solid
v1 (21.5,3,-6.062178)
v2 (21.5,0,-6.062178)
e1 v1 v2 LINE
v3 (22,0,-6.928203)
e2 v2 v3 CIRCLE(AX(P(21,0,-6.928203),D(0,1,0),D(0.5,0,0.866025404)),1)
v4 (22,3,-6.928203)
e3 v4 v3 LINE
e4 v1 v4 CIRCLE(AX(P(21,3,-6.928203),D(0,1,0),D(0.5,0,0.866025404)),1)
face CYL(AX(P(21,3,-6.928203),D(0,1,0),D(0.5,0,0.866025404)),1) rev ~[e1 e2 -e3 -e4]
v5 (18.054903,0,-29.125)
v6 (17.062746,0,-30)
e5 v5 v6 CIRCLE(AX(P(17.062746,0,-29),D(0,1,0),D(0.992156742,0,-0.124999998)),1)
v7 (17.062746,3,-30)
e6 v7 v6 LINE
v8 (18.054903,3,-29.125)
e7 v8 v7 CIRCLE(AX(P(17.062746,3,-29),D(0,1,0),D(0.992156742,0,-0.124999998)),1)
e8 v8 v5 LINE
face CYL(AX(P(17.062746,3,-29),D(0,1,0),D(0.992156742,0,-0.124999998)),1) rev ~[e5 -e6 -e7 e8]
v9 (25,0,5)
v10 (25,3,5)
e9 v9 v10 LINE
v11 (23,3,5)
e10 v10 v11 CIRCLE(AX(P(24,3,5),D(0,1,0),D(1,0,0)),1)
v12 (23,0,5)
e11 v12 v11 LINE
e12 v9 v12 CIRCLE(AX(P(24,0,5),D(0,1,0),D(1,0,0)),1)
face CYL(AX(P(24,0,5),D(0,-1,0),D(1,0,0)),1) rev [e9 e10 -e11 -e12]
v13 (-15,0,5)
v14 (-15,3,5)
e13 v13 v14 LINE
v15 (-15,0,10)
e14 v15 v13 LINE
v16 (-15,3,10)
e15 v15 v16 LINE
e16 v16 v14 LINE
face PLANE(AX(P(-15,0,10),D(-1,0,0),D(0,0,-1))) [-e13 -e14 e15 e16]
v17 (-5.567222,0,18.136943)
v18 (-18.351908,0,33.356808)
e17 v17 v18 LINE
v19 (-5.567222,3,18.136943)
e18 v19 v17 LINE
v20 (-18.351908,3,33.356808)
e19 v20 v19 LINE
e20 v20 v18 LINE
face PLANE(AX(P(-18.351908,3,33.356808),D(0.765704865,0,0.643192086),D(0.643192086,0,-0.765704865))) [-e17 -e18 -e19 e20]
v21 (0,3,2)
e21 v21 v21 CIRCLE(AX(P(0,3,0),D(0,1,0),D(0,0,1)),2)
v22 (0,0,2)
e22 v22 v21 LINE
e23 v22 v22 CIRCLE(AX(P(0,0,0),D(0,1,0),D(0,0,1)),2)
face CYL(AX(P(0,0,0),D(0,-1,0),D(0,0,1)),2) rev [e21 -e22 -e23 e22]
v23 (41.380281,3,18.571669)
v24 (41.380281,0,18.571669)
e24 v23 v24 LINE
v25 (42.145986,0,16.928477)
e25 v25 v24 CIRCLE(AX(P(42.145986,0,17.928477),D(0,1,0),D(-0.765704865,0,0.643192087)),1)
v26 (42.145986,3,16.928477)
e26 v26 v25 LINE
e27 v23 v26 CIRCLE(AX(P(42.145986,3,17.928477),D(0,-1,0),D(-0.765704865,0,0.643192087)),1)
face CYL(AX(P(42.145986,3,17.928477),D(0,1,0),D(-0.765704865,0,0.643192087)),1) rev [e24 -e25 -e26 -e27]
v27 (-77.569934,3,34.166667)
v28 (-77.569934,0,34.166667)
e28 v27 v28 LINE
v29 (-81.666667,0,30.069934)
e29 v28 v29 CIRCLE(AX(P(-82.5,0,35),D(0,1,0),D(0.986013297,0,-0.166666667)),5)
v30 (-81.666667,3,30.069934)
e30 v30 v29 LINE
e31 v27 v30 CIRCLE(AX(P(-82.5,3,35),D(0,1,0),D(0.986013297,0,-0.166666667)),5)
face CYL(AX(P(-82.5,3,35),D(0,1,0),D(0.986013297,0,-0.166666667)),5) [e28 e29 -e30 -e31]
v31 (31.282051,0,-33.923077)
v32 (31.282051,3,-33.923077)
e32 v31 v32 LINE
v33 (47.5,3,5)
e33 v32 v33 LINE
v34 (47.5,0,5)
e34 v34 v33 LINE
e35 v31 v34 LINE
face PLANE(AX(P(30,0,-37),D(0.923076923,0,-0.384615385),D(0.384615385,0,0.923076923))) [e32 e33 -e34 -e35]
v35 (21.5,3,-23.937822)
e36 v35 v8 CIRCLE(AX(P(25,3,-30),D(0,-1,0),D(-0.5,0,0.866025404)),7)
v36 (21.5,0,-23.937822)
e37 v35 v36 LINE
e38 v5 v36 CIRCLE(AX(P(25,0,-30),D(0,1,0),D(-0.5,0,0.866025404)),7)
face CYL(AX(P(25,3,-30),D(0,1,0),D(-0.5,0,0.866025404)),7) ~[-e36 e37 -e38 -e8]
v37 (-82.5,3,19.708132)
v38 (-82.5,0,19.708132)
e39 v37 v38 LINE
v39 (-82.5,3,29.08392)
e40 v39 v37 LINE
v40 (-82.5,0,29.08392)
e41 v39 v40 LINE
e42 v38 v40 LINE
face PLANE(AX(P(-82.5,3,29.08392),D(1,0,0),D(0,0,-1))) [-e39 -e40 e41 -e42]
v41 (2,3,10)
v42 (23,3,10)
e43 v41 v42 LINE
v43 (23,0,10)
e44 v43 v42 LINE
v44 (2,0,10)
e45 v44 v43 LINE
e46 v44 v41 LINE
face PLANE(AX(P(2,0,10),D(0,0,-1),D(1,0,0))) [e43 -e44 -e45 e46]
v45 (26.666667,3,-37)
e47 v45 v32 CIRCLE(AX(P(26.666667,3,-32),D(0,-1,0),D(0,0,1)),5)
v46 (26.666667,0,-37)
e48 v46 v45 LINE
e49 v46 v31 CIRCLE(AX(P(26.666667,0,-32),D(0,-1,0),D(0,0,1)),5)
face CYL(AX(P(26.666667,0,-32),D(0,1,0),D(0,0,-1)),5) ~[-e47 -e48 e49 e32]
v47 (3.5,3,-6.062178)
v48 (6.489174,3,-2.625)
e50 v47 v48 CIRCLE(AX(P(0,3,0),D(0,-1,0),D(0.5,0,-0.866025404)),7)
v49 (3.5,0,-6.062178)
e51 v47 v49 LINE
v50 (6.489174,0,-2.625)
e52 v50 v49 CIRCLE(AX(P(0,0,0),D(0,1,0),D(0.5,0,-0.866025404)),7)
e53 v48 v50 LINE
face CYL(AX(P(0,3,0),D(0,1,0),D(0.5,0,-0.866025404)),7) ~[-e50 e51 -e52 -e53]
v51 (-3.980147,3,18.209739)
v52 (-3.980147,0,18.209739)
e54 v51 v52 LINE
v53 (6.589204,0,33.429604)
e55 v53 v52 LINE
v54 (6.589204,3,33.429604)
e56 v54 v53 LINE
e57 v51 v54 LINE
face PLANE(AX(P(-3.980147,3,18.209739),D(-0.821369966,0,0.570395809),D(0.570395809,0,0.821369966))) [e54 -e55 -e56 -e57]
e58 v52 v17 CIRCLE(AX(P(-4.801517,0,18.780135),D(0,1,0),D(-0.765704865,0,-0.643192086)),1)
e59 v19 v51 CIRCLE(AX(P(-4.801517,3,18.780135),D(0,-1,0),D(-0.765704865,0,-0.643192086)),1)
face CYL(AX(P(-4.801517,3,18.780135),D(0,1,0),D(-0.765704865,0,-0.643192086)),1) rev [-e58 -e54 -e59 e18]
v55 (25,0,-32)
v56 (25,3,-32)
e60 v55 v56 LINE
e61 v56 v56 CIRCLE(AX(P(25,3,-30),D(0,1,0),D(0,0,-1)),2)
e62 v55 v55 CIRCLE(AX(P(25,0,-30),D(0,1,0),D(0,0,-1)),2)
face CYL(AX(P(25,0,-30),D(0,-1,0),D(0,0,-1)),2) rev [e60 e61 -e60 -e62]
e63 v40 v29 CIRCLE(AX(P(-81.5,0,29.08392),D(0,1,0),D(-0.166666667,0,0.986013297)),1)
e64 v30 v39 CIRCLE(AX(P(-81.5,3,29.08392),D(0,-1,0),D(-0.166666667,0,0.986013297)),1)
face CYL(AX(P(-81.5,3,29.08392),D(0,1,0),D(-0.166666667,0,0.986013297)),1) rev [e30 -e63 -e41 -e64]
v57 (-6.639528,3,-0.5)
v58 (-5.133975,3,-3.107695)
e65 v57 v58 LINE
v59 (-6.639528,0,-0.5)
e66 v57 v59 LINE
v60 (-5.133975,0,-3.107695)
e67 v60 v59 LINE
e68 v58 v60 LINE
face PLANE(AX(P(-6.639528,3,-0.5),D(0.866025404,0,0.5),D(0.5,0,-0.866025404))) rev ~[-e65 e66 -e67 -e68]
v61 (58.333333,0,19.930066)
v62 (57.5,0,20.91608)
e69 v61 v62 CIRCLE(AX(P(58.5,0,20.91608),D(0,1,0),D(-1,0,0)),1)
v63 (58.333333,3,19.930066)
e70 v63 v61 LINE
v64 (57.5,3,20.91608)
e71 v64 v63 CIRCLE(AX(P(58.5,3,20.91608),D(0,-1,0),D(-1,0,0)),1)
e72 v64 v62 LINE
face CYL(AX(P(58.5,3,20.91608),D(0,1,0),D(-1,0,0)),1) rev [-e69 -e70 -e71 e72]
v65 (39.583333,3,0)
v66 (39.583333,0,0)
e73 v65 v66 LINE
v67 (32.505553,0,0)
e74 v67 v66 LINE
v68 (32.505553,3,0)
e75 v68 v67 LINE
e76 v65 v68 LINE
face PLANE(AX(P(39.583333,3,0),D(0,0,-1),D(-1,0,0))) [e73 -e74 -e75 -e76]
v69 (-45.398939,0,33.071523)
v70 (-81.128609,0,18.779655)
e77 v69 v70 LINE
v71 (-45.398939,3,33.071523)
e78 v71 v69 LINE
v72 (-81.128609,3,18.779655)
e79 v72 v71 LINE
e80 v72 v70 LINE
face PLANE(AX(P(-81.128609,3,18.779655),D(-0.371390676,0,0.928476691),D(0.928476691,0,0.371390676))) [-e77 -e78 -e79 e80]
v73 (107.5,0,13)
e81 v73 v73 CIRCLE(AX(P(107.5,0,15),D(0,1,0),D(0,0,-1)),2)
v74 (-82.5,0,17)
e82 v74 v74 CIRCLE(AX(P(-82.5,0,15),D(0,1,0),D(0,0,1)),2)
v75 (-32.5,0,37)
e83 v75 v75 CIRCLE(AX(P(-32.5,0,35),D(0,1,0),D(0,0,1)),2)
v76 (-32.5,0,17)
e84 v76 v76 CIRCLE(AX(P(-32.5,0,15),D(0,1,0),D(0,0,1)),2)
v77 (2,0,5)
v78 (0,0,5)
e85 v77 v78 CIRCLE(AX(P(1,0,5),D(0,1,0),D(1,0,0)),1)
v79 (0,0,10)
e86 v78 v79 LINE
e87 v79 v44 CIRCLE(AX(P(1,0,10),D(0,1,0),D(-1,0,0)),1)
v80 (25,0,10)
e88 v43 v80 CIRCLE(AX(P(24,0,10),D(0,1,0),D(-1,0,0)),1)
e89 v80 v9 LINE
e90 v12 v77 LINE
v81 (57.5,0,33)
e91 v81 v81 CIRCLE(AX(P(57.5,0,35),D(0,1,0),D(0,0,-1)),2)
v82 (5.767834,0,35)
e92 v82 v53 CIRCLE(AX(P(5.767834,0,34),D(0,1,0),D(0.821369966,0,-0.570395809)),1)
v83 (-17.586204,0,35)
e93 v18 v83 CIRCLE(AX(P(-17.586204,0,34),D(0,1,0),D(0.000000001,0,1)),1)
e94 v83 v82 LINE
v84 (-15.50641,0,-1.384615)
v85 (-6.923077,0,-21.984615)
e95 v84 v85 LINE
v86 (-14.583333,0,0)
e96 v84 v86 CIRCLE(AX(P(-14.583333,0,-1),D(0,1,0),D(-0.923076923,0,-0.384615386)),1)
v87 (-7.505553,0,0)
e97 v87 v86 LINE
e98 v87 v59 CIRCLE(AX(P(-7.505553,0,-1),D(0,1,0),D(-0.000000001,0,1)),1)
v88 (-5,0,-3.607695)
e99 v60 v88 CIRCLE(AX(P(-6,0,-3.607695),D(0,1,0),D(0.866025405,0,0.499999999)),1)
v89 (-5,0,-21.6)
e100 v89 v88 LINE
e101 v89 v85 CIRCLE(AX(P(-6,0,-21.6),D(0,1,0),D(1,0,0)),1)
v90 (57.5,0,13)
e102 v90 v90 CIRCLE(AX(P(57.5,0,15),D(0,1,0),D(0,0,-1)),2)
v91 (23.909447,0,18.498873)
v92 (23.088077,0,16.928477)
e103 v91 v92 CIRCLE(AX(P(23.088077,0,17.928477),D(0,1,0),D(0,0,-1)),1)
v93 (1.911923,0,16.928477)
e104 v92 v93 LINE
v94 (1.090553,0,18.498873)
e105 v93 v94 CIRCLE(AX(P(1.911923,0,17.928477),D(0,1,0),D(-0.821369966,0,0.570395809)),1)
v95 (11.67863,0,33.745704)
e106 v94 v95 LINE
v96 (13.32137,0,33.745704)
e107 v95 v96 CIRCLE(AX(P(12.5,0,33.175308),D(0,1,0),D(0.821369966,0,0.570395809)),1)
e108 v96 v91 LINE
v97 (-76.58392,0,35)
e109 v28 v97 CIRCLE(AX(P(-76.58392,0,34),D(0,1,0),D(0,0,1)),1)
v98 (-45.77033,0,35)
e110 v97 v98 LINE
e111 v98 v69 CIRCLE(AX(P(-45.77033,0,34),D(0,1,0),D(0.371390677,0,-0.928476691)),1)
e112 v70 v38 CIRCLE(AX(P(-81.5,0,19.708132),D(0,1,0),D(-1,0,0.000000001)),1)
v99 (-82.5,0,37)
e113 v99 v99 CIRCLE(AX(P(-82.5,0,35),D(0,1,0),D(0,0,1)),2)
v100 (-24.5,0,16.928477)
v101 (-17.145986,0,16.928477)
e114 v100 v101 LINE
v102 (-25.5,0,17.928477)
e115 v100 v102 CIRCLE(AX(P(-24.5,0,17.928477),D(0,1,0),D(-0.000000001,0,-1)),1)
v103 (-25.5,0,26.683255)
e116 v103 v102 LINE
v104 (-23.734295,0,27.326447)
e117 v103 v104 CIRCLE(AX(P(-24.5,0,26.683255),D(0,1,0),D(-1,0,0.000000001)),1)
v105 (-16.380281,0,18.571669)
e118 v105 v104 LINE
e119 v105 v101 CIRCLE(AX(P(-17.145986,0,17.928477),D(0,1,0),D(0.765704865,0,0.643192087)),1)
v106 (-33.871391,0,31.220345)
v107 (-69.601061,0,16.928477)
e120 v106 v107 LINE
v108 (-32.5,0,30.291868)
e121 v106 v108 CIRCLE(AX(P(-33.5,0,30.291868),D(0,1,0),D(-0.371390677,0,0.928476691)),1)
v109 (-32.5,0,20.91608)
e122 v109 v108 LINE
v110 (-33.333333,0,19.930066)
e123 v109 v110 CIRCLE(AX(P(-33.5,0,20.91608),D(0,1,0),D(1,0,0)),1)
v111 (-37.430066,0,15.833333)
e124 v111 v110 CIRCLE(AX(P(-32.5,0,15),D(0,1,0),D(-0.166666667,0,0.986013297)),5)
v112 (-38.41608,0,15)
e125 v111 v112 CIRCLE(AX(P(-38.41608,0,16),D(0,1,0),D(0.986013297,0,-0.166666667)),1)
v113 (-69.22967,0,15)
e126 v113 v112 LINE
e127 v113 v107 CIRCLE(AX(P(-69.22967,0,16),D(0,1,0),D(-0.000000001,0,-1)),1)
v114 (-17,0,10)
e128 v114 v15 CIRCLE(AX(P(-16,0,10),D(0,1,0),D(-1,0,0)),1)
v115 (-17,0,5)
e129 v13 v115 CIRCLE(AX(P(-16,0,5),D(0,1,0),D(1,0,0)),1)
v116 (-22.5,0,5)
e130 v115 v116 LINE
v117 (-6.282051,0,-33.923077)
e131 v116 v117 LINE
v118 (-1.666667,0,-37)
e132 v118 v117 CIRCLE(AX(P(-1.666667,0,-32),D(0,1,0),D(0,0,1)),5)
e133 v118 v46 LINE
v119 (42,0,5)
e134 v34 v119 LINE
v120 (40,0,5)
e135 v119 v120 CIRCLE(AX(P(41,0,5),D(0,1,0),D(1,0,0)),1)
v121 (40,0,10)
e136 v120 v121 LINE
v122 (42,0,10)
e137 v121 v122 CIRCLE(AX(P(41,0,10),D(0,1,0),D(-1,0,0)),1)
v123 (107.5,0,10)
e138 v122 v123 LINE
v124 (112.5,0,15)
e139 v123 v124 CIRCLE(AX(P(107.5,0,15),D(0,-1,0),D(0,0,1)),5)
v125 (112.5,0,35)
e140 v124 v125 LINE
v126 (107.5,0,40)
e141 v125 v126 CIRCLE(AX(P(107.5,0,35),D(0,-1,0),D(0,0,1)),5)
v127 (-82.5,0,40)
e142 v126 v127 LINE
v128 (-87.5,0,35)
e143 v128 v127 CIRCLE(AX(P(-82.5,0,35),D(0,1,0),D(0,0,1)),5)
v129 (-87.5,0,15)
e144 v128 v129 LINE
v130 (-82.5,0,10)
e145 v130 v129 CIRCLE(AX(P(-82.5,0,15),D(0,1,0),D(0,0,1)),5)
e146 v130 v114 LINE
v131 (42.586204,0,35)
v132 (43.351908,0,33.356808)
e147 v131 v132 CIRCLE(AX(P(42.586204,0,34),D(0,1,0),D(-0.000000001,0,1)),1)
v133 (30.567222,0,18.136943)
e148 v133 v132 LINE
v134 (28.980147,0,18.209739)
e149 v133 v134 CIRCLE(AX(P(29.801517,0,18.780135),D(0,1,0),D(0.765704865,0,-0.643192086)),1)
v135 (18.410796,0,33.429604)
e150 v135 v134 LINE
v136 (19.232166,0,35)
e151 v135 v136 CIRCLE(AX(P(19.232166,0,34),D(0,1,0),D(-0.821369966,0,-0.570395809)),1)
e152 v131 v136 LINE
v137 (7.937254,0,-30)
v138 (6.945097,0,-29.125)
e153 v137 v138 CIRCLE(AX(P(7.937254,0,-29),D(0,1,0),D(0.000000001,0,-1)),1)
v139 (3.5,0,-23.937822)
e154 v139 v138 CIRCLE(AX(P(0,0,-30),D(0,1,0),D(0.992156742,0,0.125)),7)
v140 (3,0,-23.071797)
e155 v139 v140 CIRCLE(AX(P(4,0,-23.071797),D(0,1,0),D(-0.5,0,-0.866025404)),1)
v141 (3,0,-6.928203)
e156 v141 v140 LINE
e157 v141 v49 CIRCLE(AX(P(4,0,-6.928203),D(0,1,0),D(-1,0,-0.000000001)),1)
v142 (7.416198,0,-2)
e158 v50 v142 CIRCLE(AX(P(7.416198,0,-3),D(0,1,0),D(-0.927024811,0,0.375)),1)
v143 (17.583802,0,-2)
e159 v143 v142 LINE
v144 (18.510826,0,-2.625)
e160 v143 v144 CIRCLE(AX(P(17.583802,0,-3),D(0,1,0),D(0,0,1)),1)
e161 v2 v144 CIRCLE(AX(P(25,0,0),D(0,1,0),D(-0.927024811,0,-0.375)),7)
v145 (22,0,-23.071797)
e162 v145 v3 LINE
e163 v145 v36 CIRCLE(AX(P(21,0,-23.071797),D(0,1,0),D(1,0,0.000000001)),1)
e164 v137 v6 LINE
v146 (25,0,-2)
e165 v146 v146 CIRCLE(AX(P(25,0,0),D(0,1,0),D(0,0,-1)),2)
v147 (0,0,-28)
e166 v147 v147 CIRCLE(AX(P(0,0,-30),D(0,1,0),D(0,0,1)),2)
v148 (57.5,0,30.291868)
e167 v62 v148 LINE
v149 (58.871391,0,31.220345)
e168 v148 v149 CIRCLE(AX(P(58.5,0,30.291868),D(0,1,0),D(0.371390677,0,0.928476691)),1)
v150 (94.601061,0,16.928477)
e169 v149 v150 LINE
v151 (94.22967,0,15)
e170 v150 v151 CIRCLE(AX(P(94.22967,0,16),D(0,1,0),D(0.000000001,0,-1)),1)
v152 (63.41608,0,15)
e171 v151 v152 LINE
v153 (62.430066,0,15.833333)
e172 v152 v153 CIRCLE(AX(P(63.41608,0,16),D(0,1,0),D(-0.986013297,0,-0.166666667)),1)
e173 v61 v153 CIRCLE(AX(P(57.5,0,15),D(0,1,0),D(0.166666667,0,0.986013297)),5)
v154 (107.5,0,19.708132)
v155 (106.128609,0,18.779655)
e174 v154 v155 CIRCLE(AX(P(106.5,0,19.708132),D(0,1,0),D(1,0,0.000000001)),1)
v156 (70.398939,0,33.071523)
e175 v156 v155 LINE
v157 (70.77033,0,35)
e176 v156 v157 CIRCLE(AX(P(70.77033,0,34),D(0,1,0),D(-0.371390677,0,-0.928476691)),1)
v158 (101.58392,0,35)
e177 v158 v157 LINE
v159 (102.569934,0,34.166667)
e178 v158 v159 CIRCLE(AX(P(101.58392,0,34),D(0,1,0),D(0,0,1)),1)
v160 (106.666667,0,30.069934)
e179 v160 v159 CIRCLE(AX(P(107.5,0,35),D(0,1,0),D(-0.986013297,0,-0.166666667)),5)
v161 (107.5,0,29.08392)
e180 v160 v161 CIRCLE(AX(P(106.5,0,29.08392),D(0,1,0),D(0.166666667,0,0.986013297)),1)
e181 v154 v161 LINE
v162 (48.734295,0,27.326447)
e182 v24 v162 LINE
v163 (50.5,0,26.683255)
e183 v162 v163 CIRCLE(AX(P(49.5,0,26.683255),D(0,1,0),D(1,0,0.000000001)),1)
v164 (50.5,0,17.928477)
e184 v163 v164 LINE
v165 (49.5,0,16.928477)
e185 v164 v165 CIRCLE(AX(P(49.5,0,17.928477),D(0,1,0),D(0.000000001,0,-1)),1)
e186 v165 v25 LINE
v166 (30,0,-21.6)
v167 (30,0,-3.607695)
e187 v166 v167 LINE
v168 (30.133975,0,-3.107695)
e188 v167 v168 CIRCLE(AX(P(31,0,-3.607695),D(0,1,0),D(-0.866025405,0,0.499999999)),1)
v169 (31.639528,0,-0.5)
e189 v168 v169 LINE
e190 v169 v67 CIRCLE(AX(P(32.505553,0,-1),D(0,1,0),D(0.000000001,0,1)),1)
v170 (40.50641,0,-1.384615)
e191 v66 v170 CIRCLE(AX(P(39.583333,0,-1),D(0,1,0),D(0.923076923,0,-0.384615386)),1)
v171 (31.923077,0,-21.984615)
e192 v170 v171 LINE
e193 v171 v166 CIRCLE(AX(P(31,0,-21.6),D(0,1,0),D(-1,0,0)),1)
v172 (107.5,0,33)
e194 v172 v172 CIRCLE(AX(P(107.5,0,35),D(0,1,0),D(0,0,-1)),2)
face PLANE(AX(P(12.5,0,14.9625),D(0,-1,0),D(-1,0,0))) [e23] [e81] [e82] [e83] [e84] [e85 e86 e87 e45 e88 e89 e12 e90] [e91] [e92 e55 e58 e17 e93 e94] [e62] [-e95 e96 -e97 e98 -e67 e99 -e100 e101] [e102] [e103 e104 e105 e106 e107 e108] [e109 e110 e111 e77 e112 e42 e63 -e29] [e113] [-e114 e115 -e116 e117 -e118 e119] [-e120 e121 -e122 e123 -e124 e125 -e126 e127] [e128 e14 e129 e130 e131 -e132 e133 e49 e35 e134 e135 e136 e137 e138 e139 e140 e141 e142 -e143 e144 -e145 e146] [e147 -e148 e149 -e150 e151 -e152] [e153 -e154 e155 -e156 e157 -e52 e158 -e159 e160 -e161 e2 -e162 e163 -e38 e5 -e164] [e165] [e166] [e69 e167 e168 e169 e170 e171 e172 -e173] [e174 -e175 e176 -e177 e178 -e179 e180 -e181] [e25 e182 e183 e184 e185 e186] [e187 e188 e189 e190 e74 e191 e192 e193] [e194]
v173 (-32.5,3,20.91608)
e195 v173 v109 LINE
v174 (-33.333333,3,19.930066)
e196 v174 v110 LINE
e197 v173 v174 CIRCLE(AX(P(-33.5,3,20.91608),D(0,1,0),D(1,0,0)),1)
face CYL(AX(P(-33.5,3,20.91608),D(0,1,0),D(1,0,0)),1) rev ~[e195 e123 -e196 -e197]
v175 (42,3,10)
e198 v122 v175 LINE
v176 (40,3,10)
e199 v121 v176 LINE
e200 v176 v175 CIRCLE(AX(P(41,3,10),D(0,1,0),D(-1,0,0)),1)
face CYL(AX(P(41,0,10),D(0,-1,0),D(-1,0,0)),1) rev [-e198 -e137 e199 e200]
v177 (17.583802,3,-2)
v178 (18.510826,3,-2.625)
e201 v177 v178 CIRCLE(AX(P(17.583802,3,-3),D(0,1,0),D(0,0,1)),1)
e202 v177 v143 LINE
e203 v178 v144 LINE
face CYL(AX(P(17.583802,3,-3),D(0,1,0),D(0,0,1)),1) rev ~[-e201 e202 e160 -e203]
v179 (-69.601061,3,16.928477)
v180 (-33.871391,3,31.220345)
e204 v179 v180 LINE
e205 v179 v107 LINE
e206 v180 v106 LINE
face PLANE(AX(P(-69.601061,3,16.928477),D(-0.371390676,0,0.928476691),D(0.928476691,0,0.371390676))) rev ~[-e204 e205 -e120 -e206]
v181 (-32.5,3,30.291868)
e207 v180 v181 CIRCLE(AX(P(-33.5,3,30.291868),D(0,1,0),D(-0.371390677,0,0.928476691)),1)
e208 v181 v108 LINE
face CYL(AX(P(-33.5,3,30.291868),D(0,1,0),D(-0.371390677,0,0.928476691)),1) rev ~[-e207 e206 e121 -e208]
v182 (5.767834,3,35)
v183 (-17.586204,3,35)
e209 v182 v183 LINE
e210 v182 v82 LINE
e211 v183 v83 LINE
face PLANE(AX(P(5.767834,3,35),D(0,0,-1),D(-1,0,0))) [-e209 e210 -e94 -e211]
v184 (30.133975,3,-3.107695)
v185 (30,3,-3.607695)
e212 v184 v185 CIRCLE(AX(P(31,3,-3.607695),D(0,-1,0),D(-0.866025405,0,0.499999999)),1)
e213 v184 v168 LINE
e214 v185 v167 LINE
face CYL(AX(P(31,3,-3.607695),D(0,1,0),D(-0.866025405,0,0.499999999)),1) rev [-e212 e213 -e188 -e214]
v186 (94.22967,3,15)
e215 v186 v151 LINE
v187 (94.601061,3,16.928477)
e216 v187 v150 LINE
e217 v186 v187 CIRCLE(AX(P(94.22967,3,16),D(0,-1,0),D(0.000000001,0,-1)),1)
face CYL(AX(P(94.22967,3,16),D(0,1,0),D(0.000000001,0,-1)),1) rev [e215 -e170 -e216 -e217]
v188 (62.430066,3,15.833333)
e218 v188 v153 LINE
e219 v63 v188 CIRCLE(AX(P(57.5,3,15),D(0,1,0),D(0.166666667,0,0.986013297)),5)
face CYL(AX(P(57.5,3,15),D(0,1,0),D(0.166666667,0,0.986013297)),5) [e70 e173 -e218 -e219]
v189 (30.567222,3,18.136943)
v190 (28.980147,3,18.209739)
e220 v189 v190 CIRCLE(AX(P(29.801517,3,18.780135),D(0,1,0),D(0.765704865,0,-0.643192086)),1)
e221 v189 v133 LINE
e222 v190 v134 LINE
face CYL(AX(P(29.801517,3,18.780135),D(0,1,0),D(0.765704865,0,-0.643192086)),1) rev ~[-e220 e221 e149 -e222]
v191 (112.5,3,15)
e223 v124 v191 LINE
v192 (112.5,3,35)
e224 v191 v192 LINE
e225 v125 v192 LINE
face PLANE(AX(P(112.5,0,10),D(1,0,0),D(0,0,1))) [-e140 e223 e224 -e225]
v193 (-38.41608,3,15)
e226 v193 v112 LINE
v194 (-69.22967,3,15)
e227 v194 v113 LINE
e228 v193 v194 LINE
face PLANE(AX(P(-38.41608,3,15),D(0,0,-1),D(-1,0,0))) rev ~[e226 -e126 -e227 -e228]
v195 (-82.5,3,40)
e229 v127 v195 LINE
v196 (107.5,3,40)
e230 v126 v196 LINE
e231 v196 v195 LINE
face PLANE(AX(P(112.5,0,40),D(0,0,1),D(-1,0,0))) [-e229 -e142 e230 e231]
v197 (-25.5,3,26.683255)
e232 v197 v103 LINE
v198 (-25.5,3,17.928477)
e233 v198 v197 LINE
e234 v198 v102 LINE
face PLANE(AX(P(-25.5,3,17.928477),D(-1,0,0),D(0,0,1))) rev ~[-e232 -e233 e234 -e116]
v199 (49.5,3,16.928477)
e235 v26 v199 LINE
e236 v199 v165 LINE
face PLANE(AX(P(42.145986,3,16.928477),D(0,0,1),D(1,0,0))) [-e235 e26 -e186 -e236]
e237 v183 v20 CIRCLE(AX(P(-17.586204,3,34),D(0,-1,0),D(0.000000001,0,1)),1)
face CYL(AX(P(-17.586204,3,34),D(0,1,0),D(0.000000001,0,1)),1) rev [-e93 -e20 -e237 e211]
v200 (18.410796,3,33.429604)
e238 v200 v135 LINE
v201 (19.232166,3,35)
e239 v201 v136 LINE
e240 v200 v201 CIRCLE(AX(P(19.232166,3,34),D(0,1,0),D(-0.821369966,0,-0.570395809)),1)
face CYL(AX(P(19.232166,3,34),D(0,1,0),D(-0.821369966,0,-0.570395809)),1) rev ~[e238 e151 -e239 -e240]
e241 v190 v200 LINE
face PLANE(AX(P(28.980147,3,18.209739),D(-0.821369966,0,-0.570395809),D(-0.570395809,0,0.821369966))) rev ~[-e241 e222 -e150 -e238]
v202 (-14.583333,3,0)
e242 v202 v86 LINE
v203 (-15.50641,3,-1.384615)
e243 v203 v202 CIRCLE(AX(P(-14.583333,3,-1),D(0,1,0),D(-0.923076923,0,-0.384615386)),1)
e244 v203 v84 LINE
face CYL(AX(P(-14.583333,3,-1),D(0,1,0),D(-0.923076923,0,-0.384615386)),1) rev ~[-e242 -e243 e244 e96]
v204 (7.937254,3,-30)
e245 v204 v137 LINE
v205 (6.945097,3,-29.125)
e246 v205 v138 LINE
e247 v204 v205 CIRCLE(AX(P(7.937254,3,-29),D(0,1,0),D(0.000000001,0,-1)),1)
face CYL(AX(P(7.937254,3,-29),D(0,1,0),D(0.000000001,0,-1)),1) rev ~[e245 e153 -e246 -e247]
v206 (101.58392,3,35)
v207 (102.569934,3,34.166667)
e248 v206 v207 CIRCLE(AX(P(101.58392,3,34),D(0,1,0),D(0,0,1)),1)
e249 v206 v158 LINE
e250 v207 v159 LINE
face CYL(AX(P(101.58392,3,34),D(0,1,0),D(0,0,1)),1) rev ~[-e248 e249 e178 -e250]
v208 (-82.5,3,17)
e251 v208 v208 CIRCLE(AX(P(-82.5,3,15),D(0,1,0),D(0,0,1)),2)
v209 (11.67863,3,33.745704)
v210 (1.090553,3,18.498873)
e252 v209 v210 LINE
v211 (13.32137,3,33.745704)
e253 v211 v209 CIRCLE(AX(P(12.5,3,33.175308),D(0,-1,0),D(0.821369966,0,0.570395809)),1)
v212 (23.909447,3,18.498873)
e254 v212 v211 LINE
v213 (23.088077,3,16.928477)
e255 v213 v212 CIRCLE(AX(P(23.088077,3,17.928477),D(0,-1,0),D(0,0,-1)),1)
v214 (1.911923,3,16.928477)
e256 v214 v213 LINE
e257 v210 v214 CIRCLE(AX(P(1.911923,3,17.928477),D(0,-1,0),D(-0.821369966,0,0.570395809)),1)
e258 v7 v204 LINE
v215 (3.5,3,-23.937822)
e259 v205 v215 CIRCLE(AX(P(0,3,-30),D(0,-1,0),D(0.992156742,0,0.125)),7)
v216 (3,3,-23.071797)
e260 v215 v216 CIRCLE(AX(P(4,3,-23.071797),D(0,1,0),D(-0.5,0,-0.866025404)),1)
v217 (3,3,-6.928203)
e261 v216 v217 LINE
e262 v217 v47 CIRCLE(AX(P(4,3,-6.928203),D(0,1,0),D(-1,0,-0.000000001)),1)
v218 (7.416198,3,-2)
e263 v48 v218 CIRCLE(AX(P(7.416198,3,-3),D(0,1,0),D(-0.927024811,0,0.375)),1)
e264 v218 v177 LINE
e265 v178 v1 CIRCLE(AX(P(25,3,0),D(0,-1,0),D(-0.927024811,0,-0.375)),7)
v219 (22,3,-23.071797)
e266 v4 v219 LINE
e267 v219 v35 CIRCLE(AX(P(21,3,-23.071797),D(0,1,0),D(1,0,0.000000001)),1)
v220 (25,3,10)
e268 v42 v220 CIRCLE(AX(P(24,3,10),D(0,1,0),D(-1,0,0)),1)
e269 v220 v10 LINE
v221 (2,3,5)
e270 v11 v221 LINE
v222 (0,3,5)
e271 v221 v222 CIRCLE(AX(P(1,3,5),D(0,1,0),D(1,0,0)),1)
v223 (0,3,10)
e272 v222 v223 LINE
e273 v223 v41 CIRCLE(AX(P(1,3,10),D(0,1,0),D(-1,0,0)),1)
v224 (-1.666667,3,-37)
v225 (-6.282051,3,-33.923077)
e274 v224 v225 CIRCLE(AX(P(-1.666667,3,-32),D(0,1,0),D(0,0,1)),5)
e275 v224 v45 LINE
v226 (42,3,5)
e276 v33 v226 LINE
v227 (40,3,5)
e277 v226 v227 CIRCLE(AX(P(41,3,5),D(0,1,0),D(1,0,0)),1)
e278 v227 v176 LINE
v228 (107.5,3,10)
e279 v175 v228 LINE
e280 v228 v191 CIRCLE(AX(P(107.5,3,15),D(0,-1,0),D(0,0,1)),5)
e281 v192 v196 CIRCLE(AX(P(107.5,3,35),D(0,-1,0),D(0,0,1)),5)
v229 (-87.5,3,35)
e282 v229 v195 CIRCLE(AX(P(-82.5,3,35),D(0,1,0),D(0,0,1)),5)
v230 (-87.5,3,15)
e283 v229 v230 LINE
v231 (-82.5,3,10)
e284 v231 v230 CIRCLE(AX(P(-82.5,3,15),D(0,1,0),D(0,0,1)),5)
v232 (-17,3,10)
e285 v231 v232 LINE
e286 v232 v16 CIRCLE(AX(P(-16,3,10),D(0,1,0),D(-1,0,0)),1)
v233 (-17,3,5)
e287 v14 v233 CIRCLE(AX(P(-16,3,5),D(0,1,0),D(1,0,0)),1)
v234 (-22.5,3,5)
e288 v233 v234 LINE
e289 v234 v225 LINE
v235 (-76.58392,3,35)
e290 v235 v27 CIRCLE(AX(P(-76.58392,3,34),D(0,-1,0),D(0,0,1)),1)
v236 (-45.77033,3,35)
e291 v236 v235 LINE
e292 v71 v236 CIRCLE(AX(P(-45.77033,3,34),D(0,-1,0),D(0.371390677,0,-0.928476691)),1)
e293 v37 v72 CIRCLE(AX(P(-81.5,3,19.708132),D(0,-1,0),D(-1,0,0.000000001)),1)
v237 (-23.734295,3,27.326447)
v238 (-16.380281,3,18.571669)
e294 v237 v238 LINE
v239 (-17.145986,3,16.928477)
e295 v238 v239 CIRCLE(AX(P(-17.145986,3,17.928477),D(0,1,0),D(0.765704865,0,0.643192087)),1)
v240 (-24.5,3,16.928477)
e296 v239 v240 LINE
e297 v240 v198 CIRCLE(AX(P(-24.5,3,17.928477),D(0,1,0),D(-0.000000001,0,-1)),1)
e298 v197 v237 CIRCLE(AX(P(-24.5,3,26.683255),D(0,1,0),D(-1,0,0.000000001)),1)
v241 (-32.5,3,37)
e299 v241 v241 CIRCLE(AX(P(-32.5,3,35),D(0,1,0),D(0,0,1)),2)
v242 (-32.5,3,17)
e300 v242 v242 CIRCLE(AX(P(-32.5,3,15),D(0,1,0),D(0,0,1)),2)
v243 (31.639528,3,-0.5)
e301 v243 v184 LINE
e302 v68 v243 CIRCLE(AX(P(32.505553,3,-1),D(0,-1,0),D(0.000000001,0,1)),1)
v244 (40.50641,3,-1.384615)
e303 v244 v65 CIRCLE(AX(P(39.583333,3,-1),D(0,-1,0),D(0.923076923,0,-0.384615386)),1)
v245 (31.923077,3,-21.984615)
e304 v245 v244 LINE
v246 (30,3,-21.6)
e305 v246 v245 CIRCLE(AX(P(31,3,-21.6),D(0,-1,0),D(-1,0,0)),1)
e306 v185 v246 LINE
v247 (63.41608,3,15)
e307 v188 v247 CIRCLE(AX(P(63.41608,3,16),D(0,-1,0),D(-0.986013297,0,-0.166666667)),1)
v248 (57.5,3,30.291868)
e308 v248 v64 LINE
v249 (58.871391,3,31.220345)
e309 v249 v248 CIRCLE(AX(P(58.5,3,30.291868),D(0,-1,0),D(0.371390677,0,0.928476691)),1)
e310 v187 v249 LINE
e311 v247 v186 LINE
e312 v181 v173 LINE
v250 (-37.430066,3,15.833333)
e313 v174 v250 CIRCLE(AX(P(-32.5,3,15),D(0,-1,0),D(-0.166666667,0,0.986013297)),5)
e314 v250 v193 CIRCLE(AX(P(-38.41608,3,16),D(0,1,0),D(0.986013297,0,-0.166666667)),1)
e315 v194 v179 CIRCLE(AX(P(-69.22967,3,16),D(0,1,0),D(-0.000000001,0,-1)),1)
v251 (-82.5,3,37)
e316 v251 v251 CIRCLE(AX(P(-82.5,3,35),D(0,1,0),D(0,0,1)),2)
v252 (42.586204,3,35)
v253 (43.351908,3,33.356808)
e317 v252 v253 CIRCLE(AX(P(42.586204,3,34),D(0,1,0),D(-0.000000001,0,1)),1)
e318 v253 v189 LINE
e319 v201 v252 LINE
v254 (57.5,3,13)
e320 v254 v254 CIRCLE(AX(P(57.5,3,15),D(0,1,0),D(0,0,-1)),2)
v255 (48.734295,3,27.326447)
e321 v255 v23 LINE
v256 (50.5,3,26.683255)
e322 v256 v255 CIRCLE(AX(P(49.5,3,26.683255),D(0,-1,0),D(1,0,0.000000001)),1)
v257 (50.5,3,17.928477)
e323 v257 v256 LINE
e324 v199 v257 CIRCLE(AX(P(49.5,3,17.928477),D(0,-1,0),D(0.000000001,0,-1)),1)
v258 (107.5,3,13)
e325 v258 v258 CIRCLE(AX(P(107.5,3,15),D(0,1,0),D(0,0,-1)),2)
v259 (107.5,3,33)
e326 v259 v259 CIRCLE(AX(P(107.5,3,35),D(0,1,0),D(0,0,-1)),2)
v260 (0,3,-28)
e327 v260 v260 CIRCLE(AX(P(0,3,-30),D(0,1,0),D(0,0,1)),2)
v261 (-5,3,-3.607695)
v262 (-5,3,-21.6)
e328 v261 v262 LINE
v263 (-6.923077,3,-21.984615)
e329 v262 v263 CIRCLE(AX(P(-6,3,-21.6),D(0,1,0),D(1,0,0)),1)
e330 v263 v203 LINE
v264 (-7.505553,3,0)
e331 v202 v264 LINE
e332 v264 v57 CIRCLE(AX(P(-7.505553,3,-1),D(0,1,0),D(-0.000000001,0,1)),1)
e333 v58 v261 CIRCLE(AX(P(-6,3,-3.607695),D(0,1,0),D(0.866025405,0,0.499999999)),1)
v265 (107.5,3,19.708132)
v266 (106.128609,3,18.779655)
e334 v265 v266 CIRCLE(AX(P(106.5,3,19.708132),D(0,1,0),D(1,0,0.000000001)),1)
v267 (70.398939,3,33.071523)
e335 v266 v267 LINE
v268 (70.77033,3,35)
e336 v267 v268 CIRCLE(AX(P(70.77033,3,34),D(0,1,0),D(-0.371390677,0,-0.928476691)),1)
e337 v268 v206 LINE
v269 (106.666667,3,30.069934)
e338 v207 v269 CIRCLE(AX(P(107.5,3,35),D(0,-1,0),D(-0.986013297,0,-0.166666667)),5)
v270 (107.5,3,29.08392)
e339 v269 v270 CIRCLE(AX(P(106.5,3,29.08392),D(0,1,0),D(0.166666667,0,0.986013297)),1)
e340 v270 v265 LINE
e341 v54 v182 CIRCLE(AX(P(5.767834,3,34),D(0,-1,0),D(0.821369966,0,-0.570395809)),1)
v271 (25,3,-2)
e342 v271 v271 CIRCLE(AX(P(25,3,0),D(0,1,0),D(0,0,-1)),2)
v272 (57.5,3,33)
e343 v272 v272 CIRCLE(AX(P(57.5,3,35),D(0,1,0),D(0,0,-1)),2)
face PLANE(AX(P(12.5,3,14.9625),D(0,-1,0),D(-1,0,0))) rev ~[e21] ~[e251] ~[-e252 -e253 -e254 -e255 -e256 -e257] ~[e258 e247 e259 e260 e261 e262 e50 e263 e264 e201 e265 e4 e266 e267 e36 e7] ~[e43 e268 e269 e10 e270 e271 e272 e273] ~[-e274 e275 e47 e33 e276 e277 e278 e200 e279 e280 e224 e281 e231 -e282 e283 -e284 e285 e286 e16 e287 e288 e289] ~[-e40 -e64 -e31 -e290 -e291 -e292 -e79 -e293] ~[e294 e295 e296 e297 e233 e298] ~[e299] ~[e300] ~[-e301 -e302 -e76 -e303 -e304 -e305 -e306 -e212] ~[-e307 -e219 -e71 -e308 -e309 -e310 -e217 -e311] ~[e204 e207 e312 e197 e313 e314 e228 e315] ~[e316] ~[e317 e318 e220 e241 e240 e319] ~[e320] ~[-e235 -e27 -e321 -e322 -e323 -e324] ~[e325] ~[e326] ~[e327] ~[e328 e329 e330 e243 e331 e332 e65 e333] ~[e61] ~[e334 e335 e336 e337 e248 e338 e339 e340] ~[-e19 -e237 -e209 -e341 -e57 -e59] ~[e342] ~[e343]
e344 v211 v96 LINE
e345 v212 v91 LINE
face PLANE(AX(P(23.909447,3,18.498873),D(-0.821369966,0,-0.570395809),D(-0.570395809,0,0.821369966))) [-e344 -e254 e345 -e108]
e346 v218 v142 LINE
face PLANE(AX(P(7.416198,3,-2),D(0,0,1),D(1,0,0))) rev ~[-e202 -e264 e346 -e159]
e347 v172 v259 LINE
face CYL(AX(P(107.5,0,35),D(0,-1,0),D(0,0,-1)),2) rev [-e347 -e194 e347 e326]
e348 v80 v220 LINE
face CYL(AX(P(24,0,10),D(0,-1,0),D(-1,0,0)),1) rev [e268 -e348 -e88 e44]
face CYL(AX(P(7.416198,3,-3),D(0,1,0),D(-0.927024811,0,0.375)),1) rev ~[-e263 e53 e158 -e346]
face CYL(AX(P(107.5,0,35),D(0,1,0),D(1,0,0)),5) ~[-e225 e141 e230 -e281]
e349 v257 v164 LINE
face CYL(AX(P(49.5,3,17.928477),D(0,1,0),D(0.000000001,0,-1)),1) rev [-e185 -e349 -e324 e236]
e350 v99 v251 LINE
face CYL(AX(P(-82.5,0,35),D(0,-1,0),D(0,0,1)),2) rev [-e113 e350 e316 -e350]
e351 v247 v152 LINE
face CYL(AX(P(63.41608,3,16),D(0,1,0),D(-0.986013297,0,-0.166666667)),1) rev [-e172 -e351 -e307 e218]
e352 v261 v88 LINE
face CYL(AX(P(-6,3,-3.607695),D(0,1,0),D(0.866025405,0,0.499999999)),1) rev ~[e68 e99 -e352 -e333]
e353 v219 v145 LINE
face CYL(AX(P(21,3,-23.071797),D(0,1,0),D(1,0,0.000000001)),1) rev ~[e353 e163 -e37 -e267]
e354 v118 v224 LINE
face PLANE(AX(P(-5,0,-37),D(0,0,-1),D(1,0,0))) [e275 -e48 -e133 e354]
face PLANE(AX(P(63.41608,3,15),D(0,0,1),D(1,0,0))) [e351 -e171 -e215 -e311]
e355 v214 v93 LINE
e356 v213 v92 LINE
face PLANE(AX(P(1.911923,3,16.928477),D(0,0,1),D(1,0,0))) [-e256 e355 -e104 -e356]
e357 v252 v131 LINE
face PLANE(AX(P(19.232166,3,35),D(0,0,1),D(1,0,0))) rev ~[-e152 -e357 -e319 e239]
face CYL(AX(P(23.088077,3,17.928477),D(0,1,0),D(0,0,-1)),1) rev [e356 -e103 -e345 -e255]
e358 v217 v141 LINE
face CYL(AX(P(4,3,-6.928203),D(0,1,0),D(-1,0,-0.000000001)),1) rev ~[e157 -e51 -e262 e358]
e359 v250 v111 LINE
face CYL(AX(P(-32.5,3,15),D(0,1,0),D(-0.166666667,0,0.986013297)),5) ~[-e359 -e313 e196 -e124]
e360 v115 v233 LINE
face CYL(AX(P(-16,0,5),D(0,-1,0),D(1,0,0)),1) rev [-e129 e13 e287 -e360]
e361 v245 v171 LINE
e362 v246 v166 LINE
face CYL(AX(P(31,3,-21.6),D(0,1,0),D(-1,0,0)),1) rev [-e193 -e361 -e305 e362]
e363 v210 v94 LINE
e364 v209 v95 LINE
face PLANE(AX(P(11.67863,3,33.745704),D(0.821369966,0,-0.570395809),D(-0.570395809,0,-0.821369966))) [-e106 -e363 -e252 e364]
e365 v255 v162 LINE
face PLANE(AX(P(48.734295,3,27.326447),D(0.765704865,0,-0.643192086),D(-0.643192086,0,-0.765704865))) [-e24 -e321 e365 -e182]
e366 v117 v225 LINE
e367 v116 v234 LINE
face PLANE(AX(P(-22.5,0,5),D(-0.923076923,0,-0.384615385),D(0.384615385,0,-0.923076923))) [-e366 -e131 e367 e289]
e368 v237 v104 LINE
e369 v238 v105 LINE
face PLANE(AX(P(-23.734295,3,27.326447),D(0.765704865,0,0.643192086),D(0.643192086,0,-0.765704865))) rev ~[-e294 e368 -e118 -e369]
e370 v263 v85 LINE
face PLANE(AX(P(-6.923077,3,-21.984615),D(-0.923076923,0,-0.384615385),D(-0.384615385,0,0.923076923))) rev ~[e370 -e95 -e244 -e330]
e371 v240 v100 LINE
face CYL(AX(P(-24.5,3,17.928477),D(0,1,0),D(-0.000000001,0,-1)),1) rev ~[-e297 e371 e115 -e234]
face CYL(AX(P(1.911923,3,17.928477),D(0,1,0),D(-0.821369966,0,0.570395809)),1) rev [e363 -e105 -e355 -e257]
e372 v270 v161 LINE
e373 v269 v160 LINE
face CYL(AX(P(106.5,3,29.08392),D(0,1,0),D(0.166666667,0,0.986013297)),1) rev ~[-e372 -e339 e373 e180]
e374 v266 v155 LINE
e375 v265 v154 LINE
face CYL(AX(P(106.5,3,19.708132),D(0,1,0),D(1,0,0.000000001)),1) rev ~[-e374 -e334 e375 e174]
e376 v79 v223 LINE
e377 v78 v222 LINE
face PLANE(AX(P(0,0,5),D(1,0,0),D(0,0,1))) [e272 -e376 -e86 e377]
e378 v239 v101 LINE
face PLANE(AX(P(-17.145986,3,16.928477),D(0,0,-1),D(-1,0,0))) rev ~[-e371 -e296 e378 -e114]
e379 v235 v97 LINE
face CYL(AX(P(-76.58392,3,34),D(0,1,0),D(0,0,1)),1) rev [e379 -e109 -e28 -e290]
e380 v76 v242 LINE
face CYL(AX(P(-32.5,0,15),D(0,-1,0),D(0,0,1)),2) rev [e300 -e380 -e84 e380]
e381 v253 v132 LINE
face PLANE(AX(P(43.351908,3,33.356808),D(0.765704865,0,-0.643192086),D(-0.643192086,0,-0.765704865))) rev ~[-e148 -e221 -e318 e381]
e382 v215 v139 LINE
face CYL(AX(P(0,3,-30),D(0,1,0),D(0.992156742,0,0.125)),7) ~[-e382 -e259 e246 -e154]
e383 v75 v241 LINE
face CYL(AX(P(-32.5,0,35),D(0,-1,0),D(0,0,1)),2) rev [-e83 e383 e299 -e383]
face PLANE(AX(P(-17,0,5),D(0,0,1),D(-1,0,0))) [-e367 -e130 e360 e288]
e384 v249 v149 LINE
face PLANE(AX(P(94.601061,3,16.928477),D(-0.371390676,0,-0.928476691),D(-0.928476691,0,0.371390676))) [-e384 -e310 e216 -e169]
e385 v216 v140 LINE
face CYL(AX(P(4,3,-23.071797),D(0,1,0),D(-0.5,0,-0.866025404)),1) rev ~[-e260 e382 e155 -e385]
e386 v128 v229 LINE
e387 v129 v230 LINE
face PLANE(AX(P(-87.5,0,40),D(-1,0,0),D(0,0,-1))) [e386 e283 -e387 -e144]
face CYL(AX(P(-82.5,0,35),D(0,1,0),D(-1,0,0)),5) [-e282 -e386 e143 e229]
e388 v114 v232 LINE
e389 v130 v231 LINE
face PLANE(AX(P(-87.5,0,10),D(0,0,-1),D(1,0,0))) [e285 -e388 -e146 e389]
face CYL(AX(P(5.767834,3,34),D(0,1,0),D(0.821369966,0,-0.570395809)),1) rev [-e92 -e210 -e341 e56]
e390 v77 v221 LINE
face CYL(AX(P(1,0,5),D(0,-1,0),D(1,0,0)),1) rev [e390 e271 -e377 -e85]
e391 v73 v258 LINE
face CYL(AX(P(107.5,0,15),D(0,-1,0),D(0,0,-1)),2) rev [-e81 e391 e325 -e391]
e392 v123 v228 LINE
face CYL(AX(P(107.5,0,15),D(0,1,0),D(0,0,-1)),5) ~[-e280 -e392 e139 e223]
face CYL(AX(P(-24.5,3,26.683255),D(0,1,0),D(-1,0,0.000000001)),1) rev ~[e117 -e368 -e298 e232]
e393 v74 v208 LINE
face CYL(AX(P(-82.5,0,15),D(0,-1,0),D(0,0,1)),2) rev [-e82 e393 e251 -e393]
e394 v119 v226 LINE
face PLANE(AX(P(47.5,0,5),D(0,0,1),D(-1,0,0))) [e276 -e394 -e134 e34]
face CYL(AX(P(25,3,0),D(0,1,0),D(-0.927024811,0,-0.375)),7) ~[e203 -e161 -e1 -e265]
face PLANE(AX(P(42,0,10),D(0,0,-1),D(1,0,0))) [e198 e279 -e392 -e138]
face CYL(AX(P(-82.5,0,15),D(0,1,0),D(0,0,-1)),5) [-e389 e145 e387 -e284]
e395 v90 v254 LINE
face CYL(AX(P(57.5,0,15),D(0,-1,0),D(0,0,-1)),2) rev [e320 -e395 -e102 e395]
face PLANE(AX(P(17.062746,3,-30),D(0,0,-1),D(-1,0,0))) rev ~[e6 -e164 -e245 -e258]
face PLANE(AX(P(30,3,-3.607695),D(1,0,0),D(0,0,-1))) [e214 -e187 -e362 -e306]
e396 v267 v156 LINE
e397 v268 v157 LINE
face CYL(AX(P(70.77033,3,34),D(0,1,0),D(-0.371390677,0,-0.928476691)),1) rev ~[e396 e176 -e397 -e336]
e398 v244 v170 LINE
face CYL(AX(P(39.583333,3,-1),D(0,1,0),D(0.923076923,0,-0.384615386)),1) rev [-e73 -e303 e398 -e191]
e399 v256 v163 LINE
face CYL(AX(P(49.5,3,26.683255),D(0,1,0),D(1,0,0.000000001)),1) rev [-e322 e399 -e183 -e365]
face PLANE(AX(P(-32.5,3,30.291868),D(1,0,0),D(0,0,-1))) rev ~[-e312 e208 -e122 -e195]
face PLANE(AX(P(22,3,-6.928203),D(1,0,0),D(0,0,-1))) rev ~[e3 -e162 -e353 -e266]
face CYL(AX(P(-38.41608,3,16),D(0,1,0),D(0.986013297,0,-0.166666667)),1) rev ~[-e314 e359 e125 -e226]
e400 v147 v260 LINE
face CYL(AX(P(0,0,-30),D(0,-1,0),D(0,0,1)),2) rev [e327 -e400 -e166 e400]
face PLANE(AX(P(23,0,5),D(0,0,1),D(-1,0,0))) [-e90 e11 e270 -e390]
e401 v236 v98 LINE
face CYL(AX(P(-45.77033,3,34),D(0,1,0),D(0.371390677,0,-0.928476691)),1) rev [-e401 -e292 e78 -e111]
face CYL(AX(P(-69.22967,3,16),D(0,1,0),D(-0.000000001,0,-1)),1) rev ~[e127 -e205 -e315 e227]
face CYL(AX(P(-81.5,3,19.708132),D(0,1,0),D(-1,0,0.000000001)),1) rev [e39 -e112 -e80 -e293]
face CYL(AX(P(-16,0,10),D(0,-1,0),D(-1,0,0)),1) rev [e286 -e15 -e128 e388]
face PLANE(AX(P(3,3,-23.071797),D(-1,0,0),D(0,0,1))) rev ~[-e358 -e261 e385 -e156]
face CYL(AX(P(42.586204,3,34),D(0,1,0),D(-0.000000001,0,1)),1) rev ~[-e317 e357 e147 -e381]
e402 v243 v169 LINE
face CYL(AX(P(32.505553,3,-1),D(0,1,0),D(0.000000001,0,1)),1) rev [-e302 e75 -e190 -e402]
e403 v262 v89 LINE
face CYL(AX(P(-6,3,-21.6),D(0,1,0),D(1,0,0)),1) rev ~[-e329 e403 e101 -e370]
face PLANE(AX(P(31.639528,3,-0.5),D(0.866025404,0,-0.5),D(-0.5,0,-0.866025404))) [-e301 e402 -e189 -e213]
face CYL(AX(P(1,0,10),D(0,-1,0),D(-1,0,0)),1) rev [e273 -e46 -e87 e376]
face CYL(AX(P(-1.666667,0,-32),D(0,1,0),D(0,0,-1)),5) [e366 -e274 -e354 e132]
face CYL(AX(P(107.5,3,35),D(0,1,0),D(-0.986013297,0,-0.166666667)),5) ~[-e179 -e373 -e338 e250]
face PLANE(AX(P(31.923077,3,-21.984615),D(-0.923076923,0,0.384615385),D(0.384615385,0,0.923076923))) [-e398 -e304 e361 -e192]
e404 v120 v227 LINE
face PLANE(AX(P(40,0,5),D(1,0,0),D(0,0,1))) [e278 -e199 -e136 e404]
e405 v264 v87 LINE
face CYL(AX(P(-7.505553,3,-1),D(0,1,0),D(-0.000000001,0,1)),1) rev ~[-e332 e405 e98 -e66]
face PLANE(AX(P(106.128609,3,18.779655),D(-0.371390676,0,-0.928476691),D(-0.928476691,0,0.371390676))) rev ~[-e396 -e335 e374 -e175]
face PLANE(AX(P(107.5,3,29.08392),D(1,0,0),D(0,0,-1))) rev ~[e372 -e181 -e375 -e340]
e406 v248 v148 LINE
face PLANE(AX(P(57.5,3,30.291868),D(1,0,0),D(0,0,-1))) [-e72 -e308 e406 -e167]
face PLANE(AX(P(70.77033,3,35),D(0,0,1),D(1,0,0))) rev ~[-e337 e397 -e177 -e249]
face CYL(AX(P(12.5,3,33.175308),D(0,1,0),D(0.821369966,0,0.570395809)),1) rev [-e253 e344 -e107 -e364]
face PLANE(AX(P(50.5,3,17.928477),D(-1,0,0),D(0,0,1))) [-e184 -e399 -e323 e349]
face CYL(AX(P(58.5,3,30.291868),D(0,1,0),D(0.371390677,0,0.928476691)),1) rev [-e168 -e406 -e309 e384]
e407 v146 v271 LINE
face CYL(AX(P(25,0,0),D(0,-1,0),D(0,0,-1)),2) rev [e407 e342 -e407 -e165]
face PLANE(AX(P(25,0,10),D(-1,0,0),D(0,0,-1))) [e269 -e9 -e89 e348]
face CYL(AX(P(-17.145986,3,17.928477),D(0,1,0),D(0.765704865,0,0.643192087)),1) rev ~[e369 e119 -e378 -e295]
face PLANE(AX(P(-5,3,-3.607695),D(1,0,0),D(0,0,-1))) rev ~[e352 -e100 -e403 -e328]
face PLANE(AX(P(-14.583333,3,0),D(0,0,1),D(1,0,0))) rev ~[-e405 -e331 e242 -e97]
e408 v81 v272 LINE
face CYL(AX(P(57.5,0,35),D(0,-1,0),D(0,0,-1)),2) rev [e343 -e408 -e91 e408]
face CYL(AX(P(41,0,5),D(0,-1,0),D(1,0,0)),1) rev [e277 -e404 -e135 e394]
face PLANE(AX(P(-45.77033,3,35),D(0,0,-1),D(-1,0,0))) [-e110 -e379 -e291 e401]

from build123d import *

# Parameters (mm, degrees)
SKETCH_1_R          = 2
EXTRUDE_1_DEPTH     = 3
FILLET_1_R          = 5
CUT_EXTRUDE_1_DEPTH = 120.437222004


with BuildPart() as part:
    # 草图1 → 凸台-拉伸1 (new body)
    with BuildSketch(Plane(origin=(0, 0, 0), x_dir=(1, 0, 0), z_dir=(0, 1, 0))):
        with BuildLine():
            Line((-5, 37), (30, 37))
            Line((30, 37), (47.5, -5))
            Line((47.5, -5), (42, -5))
            ThreePointArc((42, -5), (41, -4), (40, -5))
            Line((40, -5), (40, -10))
            ThreePointArc((40, -10), (41, -11), (42, -10))
            Line((42, -10), (112.5, -10))
            Line((112.5, -10), (112.5, -40))
            Line((112.5, -40), (-87.5, -40))
            Line((-87.5, -40), (-87.5, -10))
            Line((-87.5, -10), (-17, -10))
            ThreePointArc((-17, -10), (-16, -11), (-15, -10))
            Line((-15, -10), (-15, -5))
            ThreePointArc((-15, -5), (-16, -4), (-17, -5))
            Line((-17, -5), (-22.5, -5))
            Line((-22.5, -5), (-5, 37))
        make_face()
        with Locations(Location((0, 30, 0), (0, 0, 270))):
            Circle(SKETCH_1_R, mode=Mode.SUBTRACT)
        with Locations(Location((0, 0, 0), (0, 0, 270))):
            Circle(SKETCH_1_R, mode=Mode.SUBTRACT)
        with Locations(Location((-82.5, -15, 0), (0, 0, 270))):
            Circle(SKETCH_1_R, mode=Mode.SUBTRACT)
        with Locations(Location((-32.5, -15, 0), (0, 0, 270))):
            Circle(SKETCH_1_R, mode=Mode.SUBTRACT)
        with Locations(Location((-82.5, -35, 0), (0, 0, 270))):
            Circle(SKETCH_1_R, mode=Mode.SUBTRACT)
        with Locations(Location((-32.5, -35, 0), (0, 0, 270))):
            Circle(SKETCH_1_R, mode=Mode.SUBTRACT)
        with Locations(Location((57.5, -35, 0), (0, 0, 90))):
            Circle(SKETCH_1_R, mode=Mode.SUBTRACT)
        with Locations(Location((107.5, -35, 0), (0, 0, 90))):
            Circle(SKETCH_1_R, mode=Mode.SUBTRACT)
        with Locations(Location((57.5, -15, 0), (0, 0, 90))):
            Circle(SKETCH_1_R, mode=Mode.SUBTRACT)
        with Locations(Location((107.5, -15, 0), (0, 0, 90))):
            Circle(SKETCH_1_R, mode=Mode.SUBTRACT)
        with Locations(Location((25, 0, 0), (0, 0, 90))):
            Circle(SKETCH_1_R, mode=Mode.SUBTRACT)
        with Locations(Location((25, 30, 0), (0, 0, 90))):
            Circle(SKETCH_1_R, mode=Mode.SUBTRACT)
        with BuildLine():
            Line((2, -10), (23, -10))
            ThreePointArc((23, -10), (24, -11), (25, -10))
            Line((25, -10), (25, -5))
            ThreePointArc((25, -5), (24, -4), (23, -5))
            Line((23, -5), (2, -5))
            ThreePointArc((2, -5), (1, -4), (0, -5))
            Line((0, -5), (0, -10))
            ThreePointArc((0, -10), (1, -11), (2, -10))
        make_face(mode=Mode.SUBTRACT)
    extrude(amount=EXTRUDE_1_DEPTH)

    # 圆角1
    fillet_1_edges = [part.edges().sort_by_distance(p)[0] for p in [
        (-5, 1.5, -37),
        (30, 1.5, -37),
        (112.5, 1.5, 10),
        (112.5, 1.5, 40),
        (-87.5, 1.5, 40),
        (-87.5, 1.5, 10),
    ]]
    fillet(fillet_1_edges, radius=FILLET_1_R)

    # 草图2 → 切除-拉伸1 (cut, through all)
    with BuildSketch(Plane(origin=(0, 3, 0), x_dir=(1, 0, 0), z_dir=(0, 1, 0))):
        with BuildLine():
            Line((-82.5, -29.083920217), (-82.5, -19.708131846))
            ThreePointArc((-82.5, -19.708131846), (-82.060628809, -18.880064615), (-81.128609324, -18.779655155))
            Line((-81.128609324, -18.779655155), (-45.398938938, -33.071523309))
            ThreePointArc((-45.398938938, -33.071523309), (-44.788373228, -34.189107521), (-45.770329614, -35))
            Line((-45.770329614, -35), (-76.583920217, -35))
            ThreePointArc((-76.583920217, -35), (-77.229417441, -34.763762616), (-77.569933514, -34.166666667))
            ThreePointArc((-77.569933514, -34.166666667), (-78.964466094, -31.464466094), (-81.666666667, -30.069933514))
            ThreePointArc((-81.666666667, -30.069933514), (-82.263762616, -29.729417441), (-82.5, -29.083920217))
        make_face()
        with BuildLine():
            Line((-38.416079783, -15), (-69.229670386, -15))
            ThreePointArc((-69.229670386, -15), (-70.211626772, -15.810892479), (-69.601061062, -16.928476691))
            Line((-69.601061062, -16.928476691), (-33.871390676, -31.220344845))
            ThreePointArc((-33.871390676, -31.220344845), (-32.939371191, -31.119935385), (-32.5, -30.291868154))
            Line((-32.5, -30.291868154), (-32.5, -20.916079783))
            ThreePointArc((-32.5, -20.916079783), (-32.736237384, -20.270582559), (-33.333333333, -19.930066486))
            ThreePointArc((-33.333333333, -19.930066486), (-36.035533906, -18.535533906), (-37.430066486, -15.833333333))
            ThreePointArc((-37.430066486, -15.833333333), (-37.770582559, -15.236237384), (-38.416079783, -15))
        make_face()
        with BuildLine():
            Line((57.5, -30.291868154), (57.5, -20.916079783))
            ThreePointArc((57.5, -20.916079783), (57.736237384, -20.270582559), (58.333333333, -19.930066486))
            ThreePointArc((58.333333333, -19.930066486), (61.035533906, -18.535533906), (62.430066486, -15.833333333))
            ThreePointArc((62.430066486, -15.833333333), (62.770582559, -15.236237384), (63.416079783, -15))
            Line((63.416079783, -15), (94.229670386, -15))
            ThreePointArc((94.229670386, -15), (95.211626772, -15.810892479), (94.601061062, -16.928476691))
            Line((94.601061062, -16.928476691), (58.871390676, -31.220344845))
            ThreePointArc((58.871390676, -31.220344845), (57.939371191, -31.119935385), (57.5, -30.291868154))
        make_face()
        with BuildLine():
            Line((70.770329614, -35), (101.583920217, -35))
            ThreePointArc((101.583920217, -35), (102.229417441, -34.763762616), (102.569933514, -34.166666667))
            ThreePointArc((102.569933514, -34.166666667), (103.964466094, -31.464466094), (106.666666667, -30.069933514))
            ThreePointArc((106.666666667, -30.069933514), (107.263762616, -29.729417441), (107.5, -29.083920217))
            Line((107.5, -29.083920217), (107.5, -19.708131846))
            ThreePointArc((107.5, -19.708131846), (107.060628809, -18.880064615), (106.128609324, -18.779655155))
            Line((106.128609324, -18.779655155), (70.398938938, -33.071523309))
            ThreePointArc((70.398938938, -33.071523309), (69.788373228, -34.189107521), (70.770329614, -35))
        make_face()
        with BuildLine():
            Line((-14.583333333, 0), (-7.505553499, 0))
            ThreePointArc((-7.505553499, 0), (-7.005553499, 0.133974596), (-6.639528096, 0.5))
            Line((-6.639528096, 0.5), (-5.133974596, 3.107695155))
            ThreePointArc((-5.133974596, 3.107695155), (-5.034074174, 3.348876109), (-5, 3.607695155))
            Line((-5, 3.607695155), (-5, 21.6))
            ThreePointArc((-5, 21.6), (-5.803883865, 22.580580676), (-6.923076923, 21.984615385))
            Line((-6.923076923, 21.984615385), (-15.506410256, 1.384615385))
            ThreePointArc((-15.506410256, 1.384615385), (-15.415383628, 0.445299804), (-14.583333333, 0))
        make_face()
        with BuildLine():
            Line((30, 3.607695155), (30, 21.6))
            ThreePointArc((30, 21.6), (30.803883865, 22.580580676), (31.923076923, 21.984615385))
            Line((31.923076923, 21.984615385), (40.506410256, 1.384615385))
            ThreePointArc((40.506410256, 1.384615385), (40.415383628, 0.445299804), (39.583333333, 0))
            Line((39.583333333, 0), (32.505553499, 0))
            ThreePointArc((32.505553499, 0), (32.005553499, 0.133974596), (31.639528096, 0.5))
            Line((31.639528096, 0.5), (30.133974596, 3.107695155))
            ThreePointArc((30.133974596, 3.107695155), (30.034074174, 3.348876109), (30, 3.607695155))
        make_face()
        with BuildLine():
            Line((3, 23.07179677), (3, 6.92820323))
            ThreePointArc((3, 6.92820323), (3.133974596, 6.42820323), (3.5, 6.062177826))
            ThreePointArc((3.5, 6.062177826), (5.281992573, 4.593533984), (6.489173676, 2.625))
            ThreePointArc((6.489173676, 2.625), (6.857181493, 2.170843802), (7.416198487, 2))
            Line((7.416198487, 2), (17.583801513, 2))
            ThreePointArc((17.583801513, 2), (18.142818507, 2.170843802), (18.510826324, 2.625))
            ThreePointArc((18.510826324, 2.625), (19.718007427, 4.593533984), (21.5, 6.062177826))
            ThreePointArc((21.5, 6.062177826), (21.866025404, 6.42820323), (22, 6.92820323))
            Line((22, 6.92820323), (22, 23.07179677))
            ThreePointArc((22, 23.07179677), (21.866025404, 23.57179677), (21.5, 23.937822174))
            ThreePointArc((21.5, 23.937822174), (19.168900851, 26.127238361), (18.054902808, 29.125))
            ThreePointArc((18.054902808, 29.125), (17.724183895, 29.75), (17.062746067, 30))
            Line((17.062746067, 30), (7.937253933, 30))
            ThreePointArc((7.937253933, 30), (7.275816105, 29.75), (6.945097192, 29.125))
            ThreePointArc((6.945097192, 29.125), (5.831099149, 26.127238361), (3.5, 23.937822174))
            ThreePointArc((3.5, 23.937822174), (3.133974596, 23.57179677), (3, 23.07179677))
        make_face()
        with BuildLine():
            Line((1.911922611, -16.928476691), (23.088077389, -16.928476691))
            ThreePointArc((23.088077389, -16.928476691), (23.974191323, -17.465009221), (23.909447355, -18.4988725))
            Line((23.909447355, -18.4988725), (13.321369966, -33.74570394))
            ThreePointArc((13.321369966, -33.74570394), (12.5, -34.175308131), (11.678630034, -33.74570394))
            Line((11.678630034, -33.74570394), (1.090552645, -18.4988725))
            ThreePointArc((1.090552645, -18.4988725), (1.025808677, -17.465009221), (1.911922611, -16.928476691))
        make_face()
        with BuildLine():
            Line((-25.5, -17.928476691), (-25.5, -26.683255004))
            ThreePointArc((-25.5, -26.683255004), (-24.842268268, -27.622857277), (-23.734295135, -27.32644709))
            Line((-23.734295135, -27.32644709), (-16.380281353, -18.571668777))
            ThreePointArc((-16.380281353, -18.571668777), (-16.239566865, -17.506097765), (-17.145986217, -16.928476691))
            Line((-17.145986217, -16.928476691), (-24.5, -16.928476691))
            ThreePointArc((-24.5, -16.928476691), (-25.207106781, -17.22136991), (-25.5, -17.928476691))
        make_face()
        with BuildLine():
            Line((-18.351908488, -33.356807914), (-5.56722188, -18.136942904))
            ThreePointArc((-5.56722188, -18.136942904), (-4.755696983, -17.781185279), (-3.980147049, -18.20973918))
            Line((-3.980147049, -18.20973918), (6.589203652, -33.429604191))
            ThreePointArc((6.589203652, -33.429604191), (6.653947621, -34.463467469), (5.767833687, -35))
            Line((5.767833687, -35), (-17.586203623, -35))
            ThreePointArc((-17.586203623, -35), (-18.492622976, -34.422378926), (-18.351908488, -33.356807914))
        make_face()
        with BuildLine():
            Line((28.980147049, -18.20973918), (18.410796348, -33.429604191))
            ThreePointArc((18.410796348, -33.429604191), (18.346052379, -34.463467469), (19.232166313, -35))
            Line((19.232166313, -35), (42.586203623, -35))
            ThreePointArc((42.586203623, -35), (43.492622976, -34.422378926), (43.351908488, -33.356807914))
            Line((43.351908488, -33.356807914), (30.56722188, -18.136942904))
            ThreePointArc((30.56722188, -18.136942904), (29.755696983, -17.781185279), (28.980147049, -18.20973918))
        make_face()
        with BuildLine():
            Line((48.734295135, -27.32644709), (41.380281353, -18.571668777))
            ThreePointArc((41.380281353, -18.571668777), (41.239566865, -17.506097765), (42.145986217, -16.928476691))
            Line((42.145986217, -16.928476691), (49.5, -16.928476691))
            ThreePointArc((49.5, -16.928476691), (50.207106781, -17.22136991), (50.5, -17.928476691))
            Line((50.5, -17.928476691), (50.5, -26.683255004))
            ThreePointArc((50.5, -26.683255004), (49.842268268, -27.622857277), (48.734295135, -27.32644709))
        make_face()
    extrude(amount=-CUT_EXTRUDE_1_DEPTH, mode=Mode.SUBTRACT)


solid = part.part
